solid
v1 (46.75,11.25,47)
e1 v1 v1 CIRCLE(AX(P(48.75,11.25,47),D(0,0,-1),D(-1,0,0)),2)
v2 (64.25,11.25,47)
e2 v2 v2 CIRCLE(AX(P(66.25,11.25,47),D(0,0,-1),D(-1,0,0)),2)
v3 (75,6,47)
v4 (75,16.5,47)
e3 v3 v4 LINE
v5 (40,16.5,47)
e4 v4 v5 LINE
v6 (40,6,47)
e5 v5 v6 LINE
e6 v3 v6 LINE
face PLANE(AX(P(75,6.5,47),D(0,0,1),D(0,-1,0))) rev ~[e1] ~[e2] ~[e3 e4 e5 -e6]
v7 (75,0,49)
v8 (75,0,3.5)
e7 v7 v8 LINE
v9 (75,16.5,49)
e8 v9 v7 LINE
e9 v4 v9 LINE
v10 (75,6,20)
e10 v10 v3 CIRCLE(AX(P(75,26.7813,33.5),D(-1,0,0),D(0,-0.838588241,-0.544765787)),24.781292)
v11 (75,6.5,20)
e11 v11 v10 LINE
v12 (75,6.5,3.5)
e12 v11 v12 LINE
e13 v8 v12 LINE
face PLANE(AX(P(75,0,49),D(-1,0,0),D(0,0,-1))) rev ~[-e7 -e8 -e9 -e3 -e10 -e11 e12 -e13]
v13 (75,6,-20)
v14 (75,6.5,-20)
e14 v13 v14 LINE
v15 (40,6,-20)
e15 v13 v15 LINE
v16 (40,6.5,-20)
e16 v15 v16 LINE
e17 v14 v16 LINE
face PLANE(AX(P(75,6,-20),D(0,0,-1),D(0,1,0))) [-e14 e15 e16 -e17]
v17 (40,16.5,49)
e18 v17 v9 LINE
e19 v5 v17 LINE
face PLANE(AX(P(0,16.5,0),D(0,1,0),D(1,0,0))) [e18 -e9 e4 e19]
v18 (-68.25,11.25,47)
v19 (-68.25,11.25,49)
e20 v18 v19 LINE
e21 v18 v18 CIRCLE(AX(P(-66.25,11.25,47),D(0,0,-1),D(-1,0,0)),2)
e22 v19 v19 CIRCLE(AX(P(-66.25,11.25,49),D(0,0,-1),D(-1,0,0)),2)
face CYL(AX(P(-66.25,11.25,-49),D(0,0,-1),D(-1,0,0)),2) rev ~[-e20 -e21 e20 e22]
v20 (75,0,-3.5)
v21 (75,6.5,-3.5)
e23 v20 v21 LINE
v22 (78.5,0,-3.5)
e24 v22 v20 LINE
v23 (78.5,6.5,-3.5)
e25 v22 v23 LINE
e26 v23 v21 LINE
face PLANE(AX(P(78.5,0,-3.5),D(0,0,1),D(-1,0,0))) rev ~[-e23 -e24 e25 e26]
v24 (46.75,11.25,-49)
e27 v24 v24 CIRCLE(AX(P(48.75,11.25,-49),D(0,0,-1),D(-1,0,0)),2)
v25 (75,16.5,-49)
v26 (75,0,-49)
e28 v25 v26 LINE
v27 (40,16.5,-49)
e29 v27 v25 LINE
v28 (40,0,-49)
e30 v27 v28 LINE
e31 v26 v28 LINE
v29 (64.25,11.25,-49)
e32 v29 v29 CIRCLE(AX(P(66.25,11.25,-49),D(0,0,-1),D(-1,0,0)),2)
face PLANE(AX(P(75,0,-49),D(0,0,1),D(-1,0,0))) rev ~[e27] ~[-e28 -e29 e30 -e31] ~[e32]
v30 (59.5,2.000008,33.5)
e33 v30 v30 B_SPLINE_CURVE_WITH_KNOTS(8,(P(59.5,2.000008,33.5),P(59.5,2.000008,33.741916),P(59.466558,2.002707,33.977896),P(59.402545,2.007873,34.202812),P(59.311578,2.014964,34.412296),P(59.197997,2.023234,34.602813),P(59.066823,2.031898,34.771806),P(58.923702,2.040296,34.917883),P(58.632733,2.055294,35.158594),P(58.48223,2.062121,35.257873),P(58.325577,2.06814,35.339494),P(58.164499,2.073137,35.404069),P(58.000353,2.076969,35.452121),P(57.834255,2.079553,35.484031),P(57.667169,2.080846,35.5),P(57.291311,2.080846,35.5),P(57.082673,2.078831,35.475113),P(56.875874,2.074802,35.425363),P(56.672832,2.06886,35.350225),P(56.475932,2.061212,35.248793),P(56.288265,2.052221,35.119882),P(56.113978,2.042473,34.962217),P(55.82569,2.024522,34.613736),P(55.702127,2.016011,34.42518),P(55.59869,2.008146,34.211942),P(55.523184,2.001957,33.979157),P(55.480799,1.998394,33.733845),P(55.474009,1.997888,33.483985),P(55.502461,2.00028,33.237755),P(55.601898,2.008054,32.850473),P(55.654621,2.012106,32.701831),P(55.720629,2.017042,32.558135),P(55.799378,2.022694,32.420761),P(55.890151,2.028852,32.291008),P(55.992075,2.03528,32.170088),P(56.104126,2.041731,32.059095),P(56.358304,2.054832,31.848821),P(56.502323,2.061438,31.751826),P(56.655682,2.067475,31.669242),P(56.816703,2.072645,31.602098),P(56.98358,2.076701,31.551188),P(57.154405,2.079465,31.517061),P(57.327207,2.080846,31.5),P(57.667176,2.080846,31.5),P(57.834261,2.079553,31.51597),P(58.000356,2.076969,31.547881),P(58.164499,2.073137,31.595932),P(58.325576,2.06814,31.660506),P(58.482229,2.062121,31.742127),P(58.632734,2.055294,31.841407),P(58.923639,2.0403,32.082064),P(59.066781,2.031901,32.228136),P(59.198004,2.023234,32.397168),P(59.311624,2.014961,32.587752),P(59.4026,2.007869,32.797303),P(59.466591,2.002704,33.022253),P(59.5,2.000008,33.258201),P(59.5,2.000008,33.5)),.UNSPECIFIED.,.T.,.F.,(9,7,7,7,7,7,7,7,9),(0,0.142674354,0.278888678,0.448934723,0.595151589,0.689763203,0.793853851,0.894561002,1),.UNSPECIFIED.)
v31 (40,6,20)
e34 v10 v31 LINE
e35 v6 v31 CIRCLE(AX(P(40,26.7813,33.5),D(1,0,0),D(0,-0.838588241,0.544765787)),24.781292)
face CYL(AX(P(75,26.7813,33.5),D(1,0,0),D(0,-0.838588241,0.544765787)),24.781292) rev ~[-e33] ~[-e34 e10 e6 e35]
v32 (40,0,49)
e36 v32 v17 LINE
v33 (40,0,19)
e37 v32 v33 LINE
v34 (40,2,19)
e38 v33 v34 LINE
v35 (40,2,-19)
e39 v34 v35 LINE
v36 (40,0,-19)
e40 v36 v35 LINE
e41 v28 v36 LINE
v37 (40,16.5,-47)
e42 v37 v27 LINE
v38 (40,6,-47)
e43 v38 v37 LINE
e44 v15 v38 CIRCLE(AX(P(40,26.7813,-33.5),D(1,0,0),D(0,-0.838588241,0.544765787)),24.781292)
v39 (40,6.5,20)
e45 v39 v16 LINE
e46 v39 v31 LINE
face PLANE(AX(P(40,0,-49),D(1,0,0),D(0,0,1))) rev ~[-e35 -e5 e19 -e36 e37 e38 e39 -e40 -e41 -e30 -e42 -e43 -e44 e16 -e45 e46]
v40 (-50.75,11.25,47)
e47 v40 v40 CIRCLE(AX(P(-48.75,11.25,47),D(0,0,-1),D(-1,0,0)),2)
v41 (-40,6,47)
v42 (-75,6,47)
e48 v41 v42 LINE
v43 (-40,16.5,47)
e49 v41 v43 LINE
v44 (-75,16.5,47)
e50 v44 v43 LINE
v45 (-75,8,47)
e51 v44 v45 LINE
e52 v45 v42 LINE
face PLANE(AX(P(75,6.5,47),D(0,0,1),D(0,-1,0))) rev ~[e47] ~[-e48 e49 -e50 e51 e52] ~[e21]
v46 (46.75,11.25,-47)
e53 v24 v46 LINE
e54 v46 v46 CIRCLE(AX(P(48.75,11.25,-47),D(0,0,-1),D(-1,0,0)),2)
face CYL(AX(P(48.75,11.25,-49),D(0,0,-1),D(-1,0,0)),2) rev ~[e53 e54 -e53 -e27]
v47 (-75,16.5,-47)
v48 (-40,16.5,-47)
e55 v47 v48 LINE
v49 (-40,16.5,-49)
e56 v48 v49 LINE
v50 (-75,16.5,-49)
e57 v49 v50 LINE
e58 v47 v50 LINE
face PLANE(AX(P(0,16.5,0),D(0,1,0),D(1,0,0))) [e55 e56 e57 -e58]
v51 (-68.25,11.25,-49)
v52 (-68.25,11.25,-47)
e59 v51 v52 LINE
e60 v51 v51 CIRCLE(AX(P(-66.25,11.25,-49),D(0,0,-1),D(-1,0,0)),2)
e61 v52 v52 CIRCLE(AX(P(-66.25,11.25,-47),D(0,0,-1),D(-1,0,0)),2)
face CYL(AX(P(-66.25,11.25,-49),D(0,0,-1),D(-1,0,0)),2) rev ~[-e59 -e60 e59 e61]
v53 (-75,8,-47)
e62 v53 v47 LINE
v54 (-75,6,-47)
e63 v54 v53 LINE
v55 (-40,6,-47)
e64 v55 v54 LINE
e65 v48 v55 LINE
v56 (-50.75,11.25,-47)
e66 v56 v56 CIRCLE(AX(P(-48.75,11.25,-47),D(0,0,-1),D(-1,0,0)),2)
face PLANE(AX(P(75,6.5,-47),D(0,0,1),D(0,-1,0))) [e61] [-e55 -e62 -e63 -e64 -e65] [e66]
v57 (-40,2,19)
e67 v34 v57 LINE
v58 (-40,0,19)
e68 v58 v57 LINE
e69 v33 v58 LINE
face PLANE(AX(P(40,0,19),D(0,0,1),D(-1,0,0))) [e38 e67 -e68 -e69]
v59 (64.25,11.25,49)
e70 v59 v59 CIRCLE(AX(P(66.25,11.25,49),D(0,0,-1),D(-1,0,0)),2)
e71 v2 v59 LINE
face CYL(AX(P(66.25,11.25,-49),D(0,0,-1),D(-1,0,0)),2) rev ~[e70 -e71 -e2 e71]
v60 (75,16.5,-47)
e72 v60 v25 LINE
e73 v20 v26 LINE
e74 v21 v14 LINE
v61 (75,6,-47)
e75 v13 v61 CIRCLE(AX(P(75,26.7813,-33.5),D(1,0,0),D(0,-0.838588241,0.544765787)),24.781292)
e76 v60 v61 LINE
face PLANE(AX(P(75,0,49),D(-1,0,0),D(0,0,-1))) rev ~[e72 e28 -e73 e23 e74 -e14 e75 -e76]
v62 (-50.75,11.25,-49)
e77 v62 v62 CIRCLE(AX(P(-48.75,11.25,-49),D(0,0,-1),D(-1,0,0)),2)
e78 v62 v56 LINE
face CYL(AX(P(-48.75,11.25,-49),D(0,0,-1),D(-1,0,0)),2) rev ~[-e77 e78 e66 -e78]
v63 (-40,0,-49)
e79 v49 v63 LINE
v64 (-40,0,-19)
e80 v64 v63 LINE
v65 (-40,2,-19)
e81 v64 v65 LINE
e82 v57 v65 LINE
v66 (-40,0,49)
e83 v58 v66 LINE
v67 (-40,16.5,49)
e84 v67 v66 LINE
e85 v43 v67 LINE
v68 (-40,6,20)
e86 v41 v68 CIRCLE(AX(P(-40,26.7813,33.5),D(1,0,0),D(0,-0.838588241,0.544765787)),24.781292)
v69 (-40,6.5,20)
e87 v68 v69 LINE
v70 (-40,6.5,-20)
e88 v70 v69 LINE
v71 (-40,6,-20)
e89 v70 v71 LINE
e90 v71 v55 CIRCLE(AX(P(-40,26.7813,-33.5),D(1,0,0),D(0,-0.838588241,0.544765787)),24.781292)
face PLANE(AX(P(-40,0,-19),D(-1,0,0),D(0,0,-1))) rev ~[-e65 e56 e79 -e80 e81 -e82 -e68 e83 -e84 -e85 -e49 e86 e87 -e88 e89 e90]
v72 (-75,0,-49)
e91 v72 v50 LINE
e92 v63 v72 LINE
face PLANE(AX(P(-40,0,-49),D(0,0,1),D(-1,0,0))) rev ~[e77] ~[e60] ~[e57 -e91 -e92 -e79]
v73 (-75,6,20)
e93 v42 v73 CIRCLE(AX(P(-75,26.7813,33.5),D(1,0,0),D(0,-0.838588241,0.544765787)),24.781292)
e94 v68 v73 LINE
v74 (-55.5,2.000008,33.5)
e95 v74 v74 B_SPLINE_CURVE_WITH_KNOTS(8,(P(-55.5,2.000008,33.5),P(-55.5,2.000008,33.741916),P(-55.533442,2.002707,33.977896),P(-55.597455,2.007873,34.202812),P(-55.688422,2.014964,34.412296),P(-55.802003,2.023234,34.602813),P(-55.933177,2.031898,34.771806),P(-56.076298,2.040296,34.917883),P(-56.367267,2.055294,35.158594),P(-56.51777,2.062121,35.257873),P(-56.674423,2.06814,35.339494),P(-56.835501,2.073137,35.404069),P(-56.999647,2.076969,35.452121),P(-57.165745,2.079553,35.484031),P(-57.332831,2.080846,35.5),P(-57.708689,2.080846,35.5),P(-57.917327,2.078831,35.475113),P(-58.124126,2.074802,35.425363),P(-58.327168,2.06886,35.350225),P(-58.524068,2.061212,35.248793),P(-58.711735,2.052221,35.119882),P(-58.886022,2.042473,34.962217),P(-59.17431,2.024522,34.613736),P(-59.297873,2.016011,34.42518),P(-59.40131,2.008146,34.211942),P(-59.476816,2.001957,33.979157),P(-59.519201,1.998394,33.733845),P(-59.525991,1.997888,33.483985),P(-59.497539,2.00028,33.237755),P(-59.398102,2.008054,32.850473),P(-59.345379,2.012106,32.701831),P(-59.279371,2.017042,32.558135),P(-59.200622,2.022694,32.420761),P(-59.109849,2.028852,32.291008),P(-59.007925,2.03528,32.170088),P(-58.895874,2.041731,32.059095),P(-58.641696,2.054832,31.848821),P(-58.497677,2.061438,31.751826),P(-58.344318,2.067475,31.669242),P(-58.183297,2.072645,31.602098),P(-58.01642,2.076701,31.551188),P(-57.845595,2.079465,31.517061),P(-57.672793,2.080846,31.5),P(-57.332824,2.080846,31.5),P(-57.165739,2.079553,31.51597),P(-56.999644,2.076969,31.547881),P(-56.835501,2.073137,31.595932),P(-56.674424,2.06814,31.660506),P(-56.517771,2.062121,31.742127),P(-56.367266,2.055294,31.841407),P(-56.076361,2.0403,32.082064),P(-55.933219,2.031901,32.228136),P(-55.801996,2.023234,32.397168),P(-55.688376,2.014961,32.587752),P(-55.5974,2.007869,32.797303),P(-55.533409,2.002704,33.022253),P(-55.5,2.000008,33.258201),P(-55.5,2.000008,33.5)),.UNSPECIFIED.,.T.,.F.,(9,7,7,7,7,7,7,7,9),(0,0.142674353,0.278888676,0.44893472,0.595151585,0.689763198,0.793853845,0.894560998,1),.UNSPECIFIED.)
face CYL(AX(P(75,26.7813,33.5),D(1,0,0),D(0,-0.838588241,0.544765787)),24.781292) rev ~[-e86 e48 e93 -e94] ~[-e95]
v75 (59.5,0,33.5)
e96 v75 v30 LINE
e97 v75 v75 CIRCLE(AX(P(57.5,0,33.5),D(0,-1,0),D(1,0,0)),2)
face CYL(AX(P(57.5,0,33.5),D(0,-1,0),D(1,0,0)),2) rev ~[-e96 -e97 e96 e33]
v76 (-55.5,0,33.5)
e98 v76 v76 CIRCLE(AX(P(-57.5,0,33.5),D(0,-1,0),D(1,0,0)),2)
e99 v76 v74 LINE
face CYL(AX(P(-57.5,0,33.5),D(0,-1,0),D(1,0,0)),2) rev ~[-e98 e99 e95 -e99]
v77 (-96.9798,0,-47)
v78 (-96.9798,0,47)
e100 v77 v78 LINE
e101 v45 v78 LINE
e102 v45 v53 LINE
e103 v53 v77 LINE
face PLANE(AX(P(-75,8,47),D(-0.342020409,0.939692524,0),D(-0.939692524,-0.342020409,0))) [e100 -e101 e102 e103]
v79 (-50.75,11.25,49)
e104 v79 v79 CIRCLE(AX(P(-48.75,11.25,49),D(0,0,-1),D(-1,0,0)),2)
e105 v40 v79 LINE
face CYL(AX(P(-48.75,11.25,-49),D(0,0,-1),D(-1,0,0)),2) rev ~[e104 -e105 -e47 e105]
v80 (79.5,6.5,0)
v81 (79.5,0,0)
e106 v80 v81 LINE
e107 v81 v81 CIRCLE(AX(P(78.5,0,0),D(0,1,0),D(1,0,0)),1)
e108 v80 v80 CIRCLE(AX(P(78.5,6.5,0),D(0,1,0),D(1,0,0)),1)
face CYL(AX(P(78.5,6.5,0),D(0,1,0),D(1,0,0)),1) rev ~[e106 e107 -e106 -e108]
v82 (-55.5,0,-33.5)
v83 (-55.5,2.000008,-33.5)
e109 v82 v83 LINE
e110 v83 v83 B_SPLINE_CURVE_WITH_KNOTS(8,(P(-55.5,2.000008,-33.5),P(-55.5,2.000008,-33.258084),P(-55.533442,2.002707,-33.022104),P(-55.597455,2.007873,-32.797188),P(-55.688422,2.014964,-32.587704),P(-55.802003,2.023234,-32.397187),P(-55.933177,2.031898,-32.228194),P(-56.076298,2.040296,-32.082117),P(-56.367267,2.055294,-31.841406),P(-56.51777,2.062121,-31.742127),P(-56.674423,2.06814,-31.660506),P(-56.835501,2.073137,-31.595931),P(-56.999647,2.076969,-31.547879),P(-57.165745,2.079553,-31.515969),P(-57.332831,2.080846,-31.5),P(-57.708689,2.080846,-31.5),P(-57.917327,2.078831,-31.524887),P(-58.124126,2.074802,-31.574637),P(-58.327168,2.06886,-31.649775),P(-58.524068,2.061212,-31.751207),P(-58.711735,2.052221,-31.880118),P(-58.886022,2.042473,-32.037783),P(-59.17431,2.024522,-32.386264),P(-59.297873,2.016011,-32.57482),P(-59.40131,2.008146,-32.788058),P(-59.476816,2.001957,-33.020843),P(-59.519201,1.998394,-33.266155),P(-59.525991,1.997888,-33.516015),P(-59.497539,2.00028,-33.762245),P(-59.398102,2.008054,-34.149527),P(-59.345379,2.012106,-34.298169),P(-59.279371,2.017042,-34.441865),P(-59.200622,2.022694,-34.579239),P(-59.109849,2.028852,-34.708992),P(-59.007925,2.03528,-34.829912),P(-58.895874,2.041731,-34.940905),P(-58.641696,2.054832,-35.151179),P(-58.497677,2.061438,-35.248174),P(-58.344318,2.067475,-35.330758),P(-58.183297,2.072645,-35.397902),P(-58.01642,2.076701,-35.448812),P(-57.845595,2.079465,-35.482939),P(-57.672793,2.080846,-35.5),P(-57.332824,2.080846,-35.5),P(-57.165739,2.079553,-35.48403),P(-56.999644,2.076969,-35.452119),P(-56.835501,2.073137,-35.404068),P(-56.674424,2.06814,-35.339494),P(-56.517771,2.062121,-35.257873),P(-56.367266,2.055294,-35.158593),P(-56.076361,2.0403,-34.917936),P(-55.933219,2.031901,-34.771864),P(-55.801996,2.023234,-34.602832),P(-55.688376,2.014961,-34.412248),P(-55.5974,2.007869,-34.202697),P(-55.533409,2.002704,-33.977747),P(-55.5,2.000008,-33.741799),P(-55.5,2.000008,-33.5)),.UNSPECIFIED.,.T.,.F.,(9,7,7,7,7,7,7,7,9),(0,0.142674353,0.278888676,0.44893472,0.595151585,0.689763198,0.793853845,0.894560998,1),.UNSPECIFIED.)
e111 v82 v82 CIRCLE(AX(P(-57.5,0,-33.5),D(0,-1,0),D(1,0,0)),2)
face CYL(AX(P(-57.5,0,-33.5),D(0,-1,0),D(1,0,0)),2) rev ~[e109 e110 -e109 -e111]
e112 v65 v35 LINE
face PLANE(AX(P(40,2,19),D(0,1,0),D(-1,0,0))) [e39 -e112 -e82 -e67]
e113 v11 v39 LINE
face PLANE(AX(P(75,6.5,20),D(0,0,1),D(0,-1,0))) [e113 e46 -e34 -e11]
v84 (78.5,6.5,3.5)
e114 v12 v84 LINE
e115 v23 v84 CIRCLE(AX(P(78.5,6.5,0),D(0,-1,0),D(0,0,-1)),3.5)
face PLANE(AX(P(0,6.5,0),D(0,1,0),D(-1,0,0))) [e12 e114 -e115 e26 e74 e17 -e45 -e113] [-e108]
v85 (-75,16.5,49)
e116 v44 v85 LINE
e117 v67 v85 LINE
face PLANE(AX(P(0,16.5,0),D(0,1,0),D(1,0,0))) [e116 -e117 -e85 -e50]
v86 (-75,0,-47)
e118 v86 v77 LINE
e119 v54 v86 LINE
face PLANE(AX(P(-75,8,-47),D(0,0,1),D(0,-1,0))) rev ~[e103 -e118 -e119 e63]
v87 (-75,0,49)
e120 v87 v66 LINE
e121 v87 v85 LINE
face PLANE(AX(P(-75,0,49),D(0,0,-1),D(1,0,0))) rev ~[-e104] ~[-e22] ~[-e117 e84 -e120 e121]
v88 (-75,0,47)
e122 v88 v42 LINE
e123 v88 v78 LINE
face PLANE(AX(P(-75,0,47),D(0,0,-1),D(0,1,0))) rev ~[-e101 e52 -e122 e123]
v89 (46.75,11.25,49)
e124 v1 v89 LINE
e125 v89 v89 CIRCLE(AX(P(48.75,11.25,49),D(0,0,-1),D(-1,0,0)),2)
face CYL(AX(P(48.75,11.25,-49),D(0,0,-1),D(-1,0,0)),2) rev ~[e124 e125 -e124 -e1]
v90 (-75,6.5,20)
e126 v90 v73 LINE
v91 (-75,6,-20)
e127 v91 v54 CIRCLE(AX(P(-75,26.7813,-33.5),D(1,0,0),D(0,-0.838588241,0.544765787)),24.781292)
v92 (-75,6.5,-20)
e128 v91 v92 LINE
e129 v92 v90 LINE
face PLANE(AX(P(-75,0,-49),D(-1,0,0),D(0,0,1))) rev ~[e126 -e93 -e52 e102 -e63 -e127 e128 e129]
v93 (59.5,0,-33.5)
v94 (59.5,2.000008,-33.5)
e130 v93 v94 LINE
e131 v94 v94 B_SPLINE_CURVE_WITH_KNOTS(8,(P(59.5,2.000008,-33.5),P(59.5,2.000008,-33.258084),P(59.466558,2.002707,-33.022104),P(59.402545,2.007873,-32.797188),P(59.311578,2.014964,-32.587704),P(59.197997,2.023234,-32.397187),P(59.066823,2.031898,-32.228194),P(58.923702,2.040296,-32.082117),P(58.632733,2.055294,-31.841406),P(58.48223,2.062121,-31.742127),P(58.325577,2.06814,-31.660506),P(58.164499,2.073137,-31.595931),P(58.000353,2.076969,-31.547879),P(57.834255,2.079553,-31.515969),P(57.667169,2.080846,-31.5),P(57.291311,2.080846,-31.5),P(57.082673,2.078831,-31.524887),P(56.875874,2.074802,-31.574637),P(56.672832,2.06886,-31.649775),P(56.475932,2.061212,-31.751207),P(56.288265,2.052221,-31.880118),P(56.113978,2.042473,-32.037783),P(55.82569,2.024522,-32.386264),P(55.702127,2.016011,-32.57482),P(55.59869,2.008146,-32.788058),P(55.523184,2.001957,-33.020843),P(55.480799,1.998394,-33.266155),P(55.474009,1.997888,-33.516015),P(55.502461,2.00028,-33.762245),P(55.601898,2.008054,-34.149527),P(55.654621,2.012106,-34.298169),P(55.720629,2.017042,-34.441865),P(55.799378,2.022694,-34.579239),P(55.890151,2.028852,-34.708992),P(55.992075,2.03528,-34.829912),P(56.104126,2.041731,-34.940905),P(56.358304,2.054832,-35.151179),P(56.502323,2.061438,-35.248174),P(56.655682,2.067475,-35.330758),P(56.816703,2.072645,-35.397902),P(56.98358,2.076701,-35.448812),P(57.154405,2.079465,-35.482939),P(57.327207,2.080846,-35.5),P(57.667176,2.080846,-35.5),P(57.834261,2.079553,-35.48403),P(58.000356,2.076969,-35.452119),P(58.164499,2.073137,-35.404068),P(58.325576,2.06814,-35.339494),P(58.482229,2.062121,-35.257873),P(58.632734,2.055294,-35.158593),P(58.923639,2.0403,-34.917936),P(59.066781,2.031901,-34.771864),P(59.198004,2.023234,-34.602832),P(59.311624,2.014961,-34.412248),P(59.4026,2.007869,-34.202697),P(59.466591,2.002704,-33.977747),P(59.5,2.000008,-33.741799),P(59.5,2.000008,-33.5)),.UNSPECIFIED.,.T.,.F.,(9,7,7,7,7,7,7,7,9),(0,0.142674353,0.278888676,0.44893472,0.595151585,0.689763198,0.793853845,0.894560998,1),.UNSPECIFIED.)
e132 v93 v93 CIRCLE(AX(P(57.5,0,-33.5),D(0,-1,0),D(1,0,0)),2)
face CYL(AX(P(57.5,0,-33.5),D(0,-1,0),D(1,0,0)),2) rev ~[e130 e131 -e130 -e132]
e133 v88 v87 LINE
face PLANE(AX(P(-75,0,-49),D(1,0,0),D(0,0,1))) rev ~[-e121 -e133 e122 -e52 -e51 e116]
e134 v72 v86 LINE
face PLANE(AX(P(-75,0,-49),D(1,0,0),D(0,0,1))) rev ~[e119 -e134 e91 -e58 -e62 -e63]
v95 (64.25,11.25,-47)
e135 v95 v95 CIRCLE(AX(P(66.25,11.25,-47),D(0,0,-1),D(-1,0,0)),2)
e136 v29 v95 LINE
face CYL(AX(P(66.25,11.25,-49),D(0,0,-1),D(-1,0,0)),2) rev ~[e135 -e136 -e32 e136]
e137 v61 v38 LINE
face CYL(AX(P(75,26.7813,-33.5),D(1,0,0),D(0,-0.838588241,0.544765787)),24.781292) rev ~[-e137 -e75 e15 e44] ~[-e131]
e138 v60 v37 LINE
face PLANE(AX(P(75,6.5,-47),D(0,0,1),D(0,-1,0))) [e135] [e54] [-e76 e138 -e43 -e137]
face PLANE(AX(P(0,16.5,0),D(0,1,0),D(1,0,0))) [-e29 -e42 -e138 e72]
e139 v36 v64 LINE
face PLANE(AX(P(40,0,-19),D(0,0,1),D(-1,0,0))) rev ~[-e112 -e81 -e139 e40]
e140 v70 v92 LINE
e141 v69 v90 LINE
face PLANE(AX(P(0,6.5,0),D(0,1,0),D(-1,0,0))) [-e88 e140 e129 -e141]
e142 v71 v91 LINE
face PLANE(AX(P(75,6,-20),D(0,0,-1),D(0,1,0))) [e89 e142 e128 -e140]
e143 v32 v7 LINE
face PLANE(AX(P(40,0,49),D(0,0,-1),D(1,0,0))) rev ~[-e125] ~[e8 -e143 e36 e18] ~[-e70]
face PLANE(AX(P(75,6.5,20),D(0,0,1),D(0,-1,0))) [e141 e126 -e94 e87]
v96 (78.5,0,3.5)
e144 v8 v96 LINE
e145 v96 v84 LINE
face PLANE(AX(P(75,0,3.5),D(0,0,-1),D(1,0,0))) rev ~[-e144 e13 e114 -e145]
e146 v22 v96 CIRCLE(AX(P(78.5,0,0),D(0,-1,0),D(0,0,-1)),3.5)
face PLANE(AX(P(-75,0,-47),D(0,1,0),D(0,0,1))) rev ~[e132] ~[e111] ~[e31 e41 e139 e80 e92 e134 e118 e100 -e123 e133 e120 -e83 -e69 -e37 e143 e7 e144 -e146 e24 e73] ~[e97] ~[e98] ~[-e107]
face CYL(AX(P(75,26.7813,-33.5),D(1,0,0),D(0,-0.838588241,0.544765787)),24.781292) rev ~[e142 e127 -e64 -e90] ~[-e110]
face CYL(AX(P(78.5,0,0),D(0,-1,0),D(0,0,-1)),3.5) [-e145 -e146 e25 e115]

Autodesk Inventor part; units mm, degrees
ref_plane "YZ Plane" through (0, 0, 0) normal (1, 0, 0) x (0, 1, 0)
ref_plane "XZ Plane" through (0, 0, 0) normal (0, 1, 0) x (-1, 0, 0)
ref_plane "XY Plane" through (0, 0, 0) normal (0, 0, 1) x (1, 0, 0)
sketch "Sketch1" plane through (0, 0, 0) normal (0, 1, 0) x (-1, 0, 0)
  line L0 (75, -49) -> (75, 49)
  line L1 (-75, 49) -> (-75, -49)
  line L2 (-75, -49) -> (75, 49) construction
  line L3 (75, -49) -> (-75, 49) construction
  line L4 (-40, -49) -> (-40, -19)
  line L5 (-40, -19) -> (40, -19)
  line L6 (40, -19) -> (40, -49)
  line L7 (-40, 49) -> (-40, 19)
  line L8 (-40, 19) -> (40, 19)
  line L9 (40, 19) -> (40, 49)
  line L10 (75, 49) -> (40, 49)
  line L11 (-40, 49) -> (-75, 49)
  line L12 (-75, -49) -> (-40, -49)
  line L13 (40, -49) -> (75, -49)
  point P0 (0, 0)
  dimension "d1" = 98
  dimension "d3" = 35
  dimension "d4" = 35
  dimension "d5" = 80
  dimension "d6" = 150
  dimension "d7" = 30
  dimension "d8" = 98
  dimension "d9" = 30
  dimension "d10" = 80
  dimension "d16" = 30
extrude "Main Body Extrusion" add sketch "Sketch1" along normal blind 6.5
sketch "Sketch2" plane through (-40, 0, 19) normal (0, 0, 1) x (1, 0, 0)
  line L0 (0, 0) -> (0, 6.5) projected
  line L1 (80, 0) -> (80, 6.5) projected
  line L2 (0, 6.5) -> (80, 6.5)
  line L3 (80, 6.5) -> (80, 2)
  line L4 (80, 2) -> (0, 2)
  line L5 (0, 2) -> (0, 6.5)
  point P0 (40, 0)
  dimension "d13" = 4.5
extrude "Center Cut" cut sketch "Sketch2" against normal up to next
sketch "Arc Sketch" plane through (75, 0, 49) normal (1, 0, 0) x (0, 0, -1)
  line L0 (49, 14.062) -> (49, -15.1255)
  line L1 (2, 11.8168) -> (2, -9.2171)
  line L2 (29, 10.0443) -> (29, -9.9261)
  line L3 (0, 0) -> (0, 6.5) projected
  line L4 (-6.6571, 2) -> (113.047, 2)
  line L5 (98, 0) -> (0, 0) projected
  line L6 (-13.629, 6) -> (113.047, 6)
  line L7 (15.5, 15.9527) -> (15.5, -15.1255)
  arc A0 (2, 6) -> (29, 6) centre (15.5, 26.7813) ccw
  line L8 (0, 6.5) -> (98, 6.5) projected
  line L9 (2, 6.5) -> (2, 6)
  line L10 (2, 6.5) -> (29, 6.5)
  line L11 (29, 6) -> (29, 6.5)
  arc A1 (69, 6) -> (96, 6) centre (82.5, 26.7813) ccw
  line L12 (96, 6.5) -> (96, 6)
  line L13 (96, 6.5) -> (69, 6.5)
  line L14 (69, 6) -> (69, 6.5)
  point P0 (49, 0)
  dimension "d17" = 2
  dimension "d18" = 2
  dimension "d19" = 4
  dimension "d20" = 27
  dimension "d21" = 13.5
  dimension "d24" = 15.5
extrude "Arc Cuts" cut sketch "Arc Sketch" against normal through all contours L2 L6 L7 L8 | L8 L12 L6 L14 | A0 L7 L6 | L6 A1 | L7 L6 L1 L8 | L7 A0 L6
sketch "Sketch4" plane through (0, 0, 0) normal (0, -1, 0) x (1, 0, 0)
  circle A0 centre (57.5, 33.5) radius 2
  line L0 (75, 49) -> (40, 49) projected
  line L1 (75, -49) -> (75, 49) projected
  line L2 (40, 49) -> (40, 19) projected
  line L3 (92.3487, 0) -> (-109.5218, 0)
  line L4 (0, -62.4236) -> (0, 64.0069)
  circle A1 centre (57.5, -33.5) radius 2
  circle A2 centre (-57.5, 33.5) radius 2
  circle A3 centre (-57.5, -33.5) radius 2
  line L5 (40, 19) -> (-40, 19) projected
  point P0 (0, 0)
  dimension "d25" = 4
  dimension "d26" = 15.5
  dimension "d27" = 17.5
  dimension "d28" = 35
  dimension "d41" = 14.5
  dimension "d42" = 17.5
extrude "Arc Holes Cut" cut sketch "Sketch4" against normal up to next contours A0 | A1 | A2 | A3
sketch "Sketch5" plane through (0, 6.5, 0) normal (0, 1, 0) x (1, 0, 0)
  line L0 (75, 47) -> (75, 49) projected
  line L1 (40, 49) -> (75, 49) projected
  line L2 (75, 47) -> (40, 47)
  line L3 (40, 47) -> (40, 49)
  line L4 (40, 49) -> (75, 49)
  line L5 (75, 49) -> (75, 47)
  line L6 (88.7308, 0) -> (-106.3834, 0)
  line L7 (0, 126.6929) -> (0, -73.8866)
  line L8 (75, -47) -> (75, -49)
  line L9 (40, -49) -> (75, -49)
  line L10 (75, -47) -> (40, -47)
  line L11 (40, -47) -> (40, -49)
  line L12 (-75, 47) -> (-75, 49)
  line L13 (-40, 49) -> (-75, 49)
  line L14 (-75, 47) -> (-40, 47)
  line L15 (-40, 47) -> (-40, 49)
  line L16 (-75, -47) -> (-40, -47)
  line L17 (-40, -49) -> (-75, -49)
  line L18 (-75, -47) -> (-75, -49)
  line L19 (-40, -47) -> (-40, -49)
  point P0 (0, 0)
extrude "Side Extrusions" add sketch "Sketch5" along normal blind 10
sketch "Side Holes Sketch" plane through (-40, 0, -49) normal (0, 0, -1) x (-1, 0, 0)
  circle A0 centre (-106.25, 11.25) radius 2
  line L0 (-115, 6) -> (-80, 6) projected
  line L1 (-80, 0) -> (-115, 0) projected
  line L2 (-115, 16.5) -> (-80, 16.5) projected
  line L3 (-97.5, 0) -> (-97.5, 22.5291)
  line L4 (-115, 0) -> (-115, 16.5) projected
  circle A1 centre (-88.75, 11.25) radius 2
  line L5 (-40, 14.9188) -> (-40, -21.0119)
  circle A2 centre (26.25, 11.25) radius 2
  circle A3 centre (8.75, 11.25) radius 2
  point P0 (-40, 0)
  dimension "d33" = 6
  dimension "d34" = 10.5
  dimension "d35" = 5.25
  dimension "d36" = 5.25
  dimension "d37" = 35
  dimension "d38" = 8.75
  dimension "d56" = 4
extrude "Side Holes Cut" cut sketch "Side Holes Sketch" against normal through all contours A0 | A1 | A2 | A3
sketch "Ramp Width Sketch" plane through (-75, 0, -49) normal (-1, 0, 0) x (0, 0, 1)
  line L0 (96, 6) -> (96, 16.5) projected
  line L1 (2, 0) -> (96, 0)
  line L2 (96, 0) -> (96, 8)
  line L3 (96, 8) -> (2, 8)
  line L4 (2, 8) -> (2, 0)
  point P0 (49, 0)
  dimension "d43" = 8
  dimension "d44" = 94
extrude "Ramp Width Extrusion" add sketch "Ramp Width Sketch" along normal blind 21.9798
sketch "Ramp Cut Sketch" plane through (-75, 0, 47) normal (0, 0, 1) x (1, 0, 0)
  line L0 (0, 16.5) -> (0, 8) projected
  line L1 (-21.9798, 0) -> (-21.9798, 8) projected
  line L2 (0, 8) -> (-21.9798, 0)
  line L3 (0, 8) -> (-21.9798, 8) projected
  line L4 (-21.9798, 8) -> (0, 8)
  point P0 (75, 0)
extrude "Ramp Cut" cut sketch "Ramp Cut Sketch" against normal through all
sketch "Sketch12" plane through (0, 0, 0) normal (0, -1, 0) x (1, 0, 0)
  line L0 (74.2886, 0) -> (75, 0)
  line L1 (75, 49) -> (40, 49) projected
  line L2 (40, -49) -> (75, -49) projected
  line L3 (75, -49) -> (75, 49) projected
  line L4 (75, 3.5) -> (78.5, 3.5)
  line L5 (78.5, -3.5) -> (75, -3.5)
  line L6 (75, -3.5) -> (75, 3.5)
  arc A0 (78.5, -3.5) -> (78.5, 3.5) centre (78.5, 0) ccw
  point P0 (0, 0)
  dimension "d49" = 49
  dimension "d50" = 49
  dimension "d51" = 3.5
  dimension "d52" = 3.5
extrude "Extrusion9" add sketch "Sketch12" against normal blind 6.5
sketch "Sketch13" plane through (0, 6.5, 0) normal (0, 1, 0) x (1, 0, 0)
  arc A0 (78.5, -3.5) -> (78.5, 3.5) centre (78.5, 0) ccw projected
  circle A1 centre (78.5, 0) radius 1
  point P0 (0, 0)
  dimension "d57" = 2
extrude "Extrusion10" cut sketch "Sketch13" against normal through all
properties part number "TapeMeasureBracketBottom"
